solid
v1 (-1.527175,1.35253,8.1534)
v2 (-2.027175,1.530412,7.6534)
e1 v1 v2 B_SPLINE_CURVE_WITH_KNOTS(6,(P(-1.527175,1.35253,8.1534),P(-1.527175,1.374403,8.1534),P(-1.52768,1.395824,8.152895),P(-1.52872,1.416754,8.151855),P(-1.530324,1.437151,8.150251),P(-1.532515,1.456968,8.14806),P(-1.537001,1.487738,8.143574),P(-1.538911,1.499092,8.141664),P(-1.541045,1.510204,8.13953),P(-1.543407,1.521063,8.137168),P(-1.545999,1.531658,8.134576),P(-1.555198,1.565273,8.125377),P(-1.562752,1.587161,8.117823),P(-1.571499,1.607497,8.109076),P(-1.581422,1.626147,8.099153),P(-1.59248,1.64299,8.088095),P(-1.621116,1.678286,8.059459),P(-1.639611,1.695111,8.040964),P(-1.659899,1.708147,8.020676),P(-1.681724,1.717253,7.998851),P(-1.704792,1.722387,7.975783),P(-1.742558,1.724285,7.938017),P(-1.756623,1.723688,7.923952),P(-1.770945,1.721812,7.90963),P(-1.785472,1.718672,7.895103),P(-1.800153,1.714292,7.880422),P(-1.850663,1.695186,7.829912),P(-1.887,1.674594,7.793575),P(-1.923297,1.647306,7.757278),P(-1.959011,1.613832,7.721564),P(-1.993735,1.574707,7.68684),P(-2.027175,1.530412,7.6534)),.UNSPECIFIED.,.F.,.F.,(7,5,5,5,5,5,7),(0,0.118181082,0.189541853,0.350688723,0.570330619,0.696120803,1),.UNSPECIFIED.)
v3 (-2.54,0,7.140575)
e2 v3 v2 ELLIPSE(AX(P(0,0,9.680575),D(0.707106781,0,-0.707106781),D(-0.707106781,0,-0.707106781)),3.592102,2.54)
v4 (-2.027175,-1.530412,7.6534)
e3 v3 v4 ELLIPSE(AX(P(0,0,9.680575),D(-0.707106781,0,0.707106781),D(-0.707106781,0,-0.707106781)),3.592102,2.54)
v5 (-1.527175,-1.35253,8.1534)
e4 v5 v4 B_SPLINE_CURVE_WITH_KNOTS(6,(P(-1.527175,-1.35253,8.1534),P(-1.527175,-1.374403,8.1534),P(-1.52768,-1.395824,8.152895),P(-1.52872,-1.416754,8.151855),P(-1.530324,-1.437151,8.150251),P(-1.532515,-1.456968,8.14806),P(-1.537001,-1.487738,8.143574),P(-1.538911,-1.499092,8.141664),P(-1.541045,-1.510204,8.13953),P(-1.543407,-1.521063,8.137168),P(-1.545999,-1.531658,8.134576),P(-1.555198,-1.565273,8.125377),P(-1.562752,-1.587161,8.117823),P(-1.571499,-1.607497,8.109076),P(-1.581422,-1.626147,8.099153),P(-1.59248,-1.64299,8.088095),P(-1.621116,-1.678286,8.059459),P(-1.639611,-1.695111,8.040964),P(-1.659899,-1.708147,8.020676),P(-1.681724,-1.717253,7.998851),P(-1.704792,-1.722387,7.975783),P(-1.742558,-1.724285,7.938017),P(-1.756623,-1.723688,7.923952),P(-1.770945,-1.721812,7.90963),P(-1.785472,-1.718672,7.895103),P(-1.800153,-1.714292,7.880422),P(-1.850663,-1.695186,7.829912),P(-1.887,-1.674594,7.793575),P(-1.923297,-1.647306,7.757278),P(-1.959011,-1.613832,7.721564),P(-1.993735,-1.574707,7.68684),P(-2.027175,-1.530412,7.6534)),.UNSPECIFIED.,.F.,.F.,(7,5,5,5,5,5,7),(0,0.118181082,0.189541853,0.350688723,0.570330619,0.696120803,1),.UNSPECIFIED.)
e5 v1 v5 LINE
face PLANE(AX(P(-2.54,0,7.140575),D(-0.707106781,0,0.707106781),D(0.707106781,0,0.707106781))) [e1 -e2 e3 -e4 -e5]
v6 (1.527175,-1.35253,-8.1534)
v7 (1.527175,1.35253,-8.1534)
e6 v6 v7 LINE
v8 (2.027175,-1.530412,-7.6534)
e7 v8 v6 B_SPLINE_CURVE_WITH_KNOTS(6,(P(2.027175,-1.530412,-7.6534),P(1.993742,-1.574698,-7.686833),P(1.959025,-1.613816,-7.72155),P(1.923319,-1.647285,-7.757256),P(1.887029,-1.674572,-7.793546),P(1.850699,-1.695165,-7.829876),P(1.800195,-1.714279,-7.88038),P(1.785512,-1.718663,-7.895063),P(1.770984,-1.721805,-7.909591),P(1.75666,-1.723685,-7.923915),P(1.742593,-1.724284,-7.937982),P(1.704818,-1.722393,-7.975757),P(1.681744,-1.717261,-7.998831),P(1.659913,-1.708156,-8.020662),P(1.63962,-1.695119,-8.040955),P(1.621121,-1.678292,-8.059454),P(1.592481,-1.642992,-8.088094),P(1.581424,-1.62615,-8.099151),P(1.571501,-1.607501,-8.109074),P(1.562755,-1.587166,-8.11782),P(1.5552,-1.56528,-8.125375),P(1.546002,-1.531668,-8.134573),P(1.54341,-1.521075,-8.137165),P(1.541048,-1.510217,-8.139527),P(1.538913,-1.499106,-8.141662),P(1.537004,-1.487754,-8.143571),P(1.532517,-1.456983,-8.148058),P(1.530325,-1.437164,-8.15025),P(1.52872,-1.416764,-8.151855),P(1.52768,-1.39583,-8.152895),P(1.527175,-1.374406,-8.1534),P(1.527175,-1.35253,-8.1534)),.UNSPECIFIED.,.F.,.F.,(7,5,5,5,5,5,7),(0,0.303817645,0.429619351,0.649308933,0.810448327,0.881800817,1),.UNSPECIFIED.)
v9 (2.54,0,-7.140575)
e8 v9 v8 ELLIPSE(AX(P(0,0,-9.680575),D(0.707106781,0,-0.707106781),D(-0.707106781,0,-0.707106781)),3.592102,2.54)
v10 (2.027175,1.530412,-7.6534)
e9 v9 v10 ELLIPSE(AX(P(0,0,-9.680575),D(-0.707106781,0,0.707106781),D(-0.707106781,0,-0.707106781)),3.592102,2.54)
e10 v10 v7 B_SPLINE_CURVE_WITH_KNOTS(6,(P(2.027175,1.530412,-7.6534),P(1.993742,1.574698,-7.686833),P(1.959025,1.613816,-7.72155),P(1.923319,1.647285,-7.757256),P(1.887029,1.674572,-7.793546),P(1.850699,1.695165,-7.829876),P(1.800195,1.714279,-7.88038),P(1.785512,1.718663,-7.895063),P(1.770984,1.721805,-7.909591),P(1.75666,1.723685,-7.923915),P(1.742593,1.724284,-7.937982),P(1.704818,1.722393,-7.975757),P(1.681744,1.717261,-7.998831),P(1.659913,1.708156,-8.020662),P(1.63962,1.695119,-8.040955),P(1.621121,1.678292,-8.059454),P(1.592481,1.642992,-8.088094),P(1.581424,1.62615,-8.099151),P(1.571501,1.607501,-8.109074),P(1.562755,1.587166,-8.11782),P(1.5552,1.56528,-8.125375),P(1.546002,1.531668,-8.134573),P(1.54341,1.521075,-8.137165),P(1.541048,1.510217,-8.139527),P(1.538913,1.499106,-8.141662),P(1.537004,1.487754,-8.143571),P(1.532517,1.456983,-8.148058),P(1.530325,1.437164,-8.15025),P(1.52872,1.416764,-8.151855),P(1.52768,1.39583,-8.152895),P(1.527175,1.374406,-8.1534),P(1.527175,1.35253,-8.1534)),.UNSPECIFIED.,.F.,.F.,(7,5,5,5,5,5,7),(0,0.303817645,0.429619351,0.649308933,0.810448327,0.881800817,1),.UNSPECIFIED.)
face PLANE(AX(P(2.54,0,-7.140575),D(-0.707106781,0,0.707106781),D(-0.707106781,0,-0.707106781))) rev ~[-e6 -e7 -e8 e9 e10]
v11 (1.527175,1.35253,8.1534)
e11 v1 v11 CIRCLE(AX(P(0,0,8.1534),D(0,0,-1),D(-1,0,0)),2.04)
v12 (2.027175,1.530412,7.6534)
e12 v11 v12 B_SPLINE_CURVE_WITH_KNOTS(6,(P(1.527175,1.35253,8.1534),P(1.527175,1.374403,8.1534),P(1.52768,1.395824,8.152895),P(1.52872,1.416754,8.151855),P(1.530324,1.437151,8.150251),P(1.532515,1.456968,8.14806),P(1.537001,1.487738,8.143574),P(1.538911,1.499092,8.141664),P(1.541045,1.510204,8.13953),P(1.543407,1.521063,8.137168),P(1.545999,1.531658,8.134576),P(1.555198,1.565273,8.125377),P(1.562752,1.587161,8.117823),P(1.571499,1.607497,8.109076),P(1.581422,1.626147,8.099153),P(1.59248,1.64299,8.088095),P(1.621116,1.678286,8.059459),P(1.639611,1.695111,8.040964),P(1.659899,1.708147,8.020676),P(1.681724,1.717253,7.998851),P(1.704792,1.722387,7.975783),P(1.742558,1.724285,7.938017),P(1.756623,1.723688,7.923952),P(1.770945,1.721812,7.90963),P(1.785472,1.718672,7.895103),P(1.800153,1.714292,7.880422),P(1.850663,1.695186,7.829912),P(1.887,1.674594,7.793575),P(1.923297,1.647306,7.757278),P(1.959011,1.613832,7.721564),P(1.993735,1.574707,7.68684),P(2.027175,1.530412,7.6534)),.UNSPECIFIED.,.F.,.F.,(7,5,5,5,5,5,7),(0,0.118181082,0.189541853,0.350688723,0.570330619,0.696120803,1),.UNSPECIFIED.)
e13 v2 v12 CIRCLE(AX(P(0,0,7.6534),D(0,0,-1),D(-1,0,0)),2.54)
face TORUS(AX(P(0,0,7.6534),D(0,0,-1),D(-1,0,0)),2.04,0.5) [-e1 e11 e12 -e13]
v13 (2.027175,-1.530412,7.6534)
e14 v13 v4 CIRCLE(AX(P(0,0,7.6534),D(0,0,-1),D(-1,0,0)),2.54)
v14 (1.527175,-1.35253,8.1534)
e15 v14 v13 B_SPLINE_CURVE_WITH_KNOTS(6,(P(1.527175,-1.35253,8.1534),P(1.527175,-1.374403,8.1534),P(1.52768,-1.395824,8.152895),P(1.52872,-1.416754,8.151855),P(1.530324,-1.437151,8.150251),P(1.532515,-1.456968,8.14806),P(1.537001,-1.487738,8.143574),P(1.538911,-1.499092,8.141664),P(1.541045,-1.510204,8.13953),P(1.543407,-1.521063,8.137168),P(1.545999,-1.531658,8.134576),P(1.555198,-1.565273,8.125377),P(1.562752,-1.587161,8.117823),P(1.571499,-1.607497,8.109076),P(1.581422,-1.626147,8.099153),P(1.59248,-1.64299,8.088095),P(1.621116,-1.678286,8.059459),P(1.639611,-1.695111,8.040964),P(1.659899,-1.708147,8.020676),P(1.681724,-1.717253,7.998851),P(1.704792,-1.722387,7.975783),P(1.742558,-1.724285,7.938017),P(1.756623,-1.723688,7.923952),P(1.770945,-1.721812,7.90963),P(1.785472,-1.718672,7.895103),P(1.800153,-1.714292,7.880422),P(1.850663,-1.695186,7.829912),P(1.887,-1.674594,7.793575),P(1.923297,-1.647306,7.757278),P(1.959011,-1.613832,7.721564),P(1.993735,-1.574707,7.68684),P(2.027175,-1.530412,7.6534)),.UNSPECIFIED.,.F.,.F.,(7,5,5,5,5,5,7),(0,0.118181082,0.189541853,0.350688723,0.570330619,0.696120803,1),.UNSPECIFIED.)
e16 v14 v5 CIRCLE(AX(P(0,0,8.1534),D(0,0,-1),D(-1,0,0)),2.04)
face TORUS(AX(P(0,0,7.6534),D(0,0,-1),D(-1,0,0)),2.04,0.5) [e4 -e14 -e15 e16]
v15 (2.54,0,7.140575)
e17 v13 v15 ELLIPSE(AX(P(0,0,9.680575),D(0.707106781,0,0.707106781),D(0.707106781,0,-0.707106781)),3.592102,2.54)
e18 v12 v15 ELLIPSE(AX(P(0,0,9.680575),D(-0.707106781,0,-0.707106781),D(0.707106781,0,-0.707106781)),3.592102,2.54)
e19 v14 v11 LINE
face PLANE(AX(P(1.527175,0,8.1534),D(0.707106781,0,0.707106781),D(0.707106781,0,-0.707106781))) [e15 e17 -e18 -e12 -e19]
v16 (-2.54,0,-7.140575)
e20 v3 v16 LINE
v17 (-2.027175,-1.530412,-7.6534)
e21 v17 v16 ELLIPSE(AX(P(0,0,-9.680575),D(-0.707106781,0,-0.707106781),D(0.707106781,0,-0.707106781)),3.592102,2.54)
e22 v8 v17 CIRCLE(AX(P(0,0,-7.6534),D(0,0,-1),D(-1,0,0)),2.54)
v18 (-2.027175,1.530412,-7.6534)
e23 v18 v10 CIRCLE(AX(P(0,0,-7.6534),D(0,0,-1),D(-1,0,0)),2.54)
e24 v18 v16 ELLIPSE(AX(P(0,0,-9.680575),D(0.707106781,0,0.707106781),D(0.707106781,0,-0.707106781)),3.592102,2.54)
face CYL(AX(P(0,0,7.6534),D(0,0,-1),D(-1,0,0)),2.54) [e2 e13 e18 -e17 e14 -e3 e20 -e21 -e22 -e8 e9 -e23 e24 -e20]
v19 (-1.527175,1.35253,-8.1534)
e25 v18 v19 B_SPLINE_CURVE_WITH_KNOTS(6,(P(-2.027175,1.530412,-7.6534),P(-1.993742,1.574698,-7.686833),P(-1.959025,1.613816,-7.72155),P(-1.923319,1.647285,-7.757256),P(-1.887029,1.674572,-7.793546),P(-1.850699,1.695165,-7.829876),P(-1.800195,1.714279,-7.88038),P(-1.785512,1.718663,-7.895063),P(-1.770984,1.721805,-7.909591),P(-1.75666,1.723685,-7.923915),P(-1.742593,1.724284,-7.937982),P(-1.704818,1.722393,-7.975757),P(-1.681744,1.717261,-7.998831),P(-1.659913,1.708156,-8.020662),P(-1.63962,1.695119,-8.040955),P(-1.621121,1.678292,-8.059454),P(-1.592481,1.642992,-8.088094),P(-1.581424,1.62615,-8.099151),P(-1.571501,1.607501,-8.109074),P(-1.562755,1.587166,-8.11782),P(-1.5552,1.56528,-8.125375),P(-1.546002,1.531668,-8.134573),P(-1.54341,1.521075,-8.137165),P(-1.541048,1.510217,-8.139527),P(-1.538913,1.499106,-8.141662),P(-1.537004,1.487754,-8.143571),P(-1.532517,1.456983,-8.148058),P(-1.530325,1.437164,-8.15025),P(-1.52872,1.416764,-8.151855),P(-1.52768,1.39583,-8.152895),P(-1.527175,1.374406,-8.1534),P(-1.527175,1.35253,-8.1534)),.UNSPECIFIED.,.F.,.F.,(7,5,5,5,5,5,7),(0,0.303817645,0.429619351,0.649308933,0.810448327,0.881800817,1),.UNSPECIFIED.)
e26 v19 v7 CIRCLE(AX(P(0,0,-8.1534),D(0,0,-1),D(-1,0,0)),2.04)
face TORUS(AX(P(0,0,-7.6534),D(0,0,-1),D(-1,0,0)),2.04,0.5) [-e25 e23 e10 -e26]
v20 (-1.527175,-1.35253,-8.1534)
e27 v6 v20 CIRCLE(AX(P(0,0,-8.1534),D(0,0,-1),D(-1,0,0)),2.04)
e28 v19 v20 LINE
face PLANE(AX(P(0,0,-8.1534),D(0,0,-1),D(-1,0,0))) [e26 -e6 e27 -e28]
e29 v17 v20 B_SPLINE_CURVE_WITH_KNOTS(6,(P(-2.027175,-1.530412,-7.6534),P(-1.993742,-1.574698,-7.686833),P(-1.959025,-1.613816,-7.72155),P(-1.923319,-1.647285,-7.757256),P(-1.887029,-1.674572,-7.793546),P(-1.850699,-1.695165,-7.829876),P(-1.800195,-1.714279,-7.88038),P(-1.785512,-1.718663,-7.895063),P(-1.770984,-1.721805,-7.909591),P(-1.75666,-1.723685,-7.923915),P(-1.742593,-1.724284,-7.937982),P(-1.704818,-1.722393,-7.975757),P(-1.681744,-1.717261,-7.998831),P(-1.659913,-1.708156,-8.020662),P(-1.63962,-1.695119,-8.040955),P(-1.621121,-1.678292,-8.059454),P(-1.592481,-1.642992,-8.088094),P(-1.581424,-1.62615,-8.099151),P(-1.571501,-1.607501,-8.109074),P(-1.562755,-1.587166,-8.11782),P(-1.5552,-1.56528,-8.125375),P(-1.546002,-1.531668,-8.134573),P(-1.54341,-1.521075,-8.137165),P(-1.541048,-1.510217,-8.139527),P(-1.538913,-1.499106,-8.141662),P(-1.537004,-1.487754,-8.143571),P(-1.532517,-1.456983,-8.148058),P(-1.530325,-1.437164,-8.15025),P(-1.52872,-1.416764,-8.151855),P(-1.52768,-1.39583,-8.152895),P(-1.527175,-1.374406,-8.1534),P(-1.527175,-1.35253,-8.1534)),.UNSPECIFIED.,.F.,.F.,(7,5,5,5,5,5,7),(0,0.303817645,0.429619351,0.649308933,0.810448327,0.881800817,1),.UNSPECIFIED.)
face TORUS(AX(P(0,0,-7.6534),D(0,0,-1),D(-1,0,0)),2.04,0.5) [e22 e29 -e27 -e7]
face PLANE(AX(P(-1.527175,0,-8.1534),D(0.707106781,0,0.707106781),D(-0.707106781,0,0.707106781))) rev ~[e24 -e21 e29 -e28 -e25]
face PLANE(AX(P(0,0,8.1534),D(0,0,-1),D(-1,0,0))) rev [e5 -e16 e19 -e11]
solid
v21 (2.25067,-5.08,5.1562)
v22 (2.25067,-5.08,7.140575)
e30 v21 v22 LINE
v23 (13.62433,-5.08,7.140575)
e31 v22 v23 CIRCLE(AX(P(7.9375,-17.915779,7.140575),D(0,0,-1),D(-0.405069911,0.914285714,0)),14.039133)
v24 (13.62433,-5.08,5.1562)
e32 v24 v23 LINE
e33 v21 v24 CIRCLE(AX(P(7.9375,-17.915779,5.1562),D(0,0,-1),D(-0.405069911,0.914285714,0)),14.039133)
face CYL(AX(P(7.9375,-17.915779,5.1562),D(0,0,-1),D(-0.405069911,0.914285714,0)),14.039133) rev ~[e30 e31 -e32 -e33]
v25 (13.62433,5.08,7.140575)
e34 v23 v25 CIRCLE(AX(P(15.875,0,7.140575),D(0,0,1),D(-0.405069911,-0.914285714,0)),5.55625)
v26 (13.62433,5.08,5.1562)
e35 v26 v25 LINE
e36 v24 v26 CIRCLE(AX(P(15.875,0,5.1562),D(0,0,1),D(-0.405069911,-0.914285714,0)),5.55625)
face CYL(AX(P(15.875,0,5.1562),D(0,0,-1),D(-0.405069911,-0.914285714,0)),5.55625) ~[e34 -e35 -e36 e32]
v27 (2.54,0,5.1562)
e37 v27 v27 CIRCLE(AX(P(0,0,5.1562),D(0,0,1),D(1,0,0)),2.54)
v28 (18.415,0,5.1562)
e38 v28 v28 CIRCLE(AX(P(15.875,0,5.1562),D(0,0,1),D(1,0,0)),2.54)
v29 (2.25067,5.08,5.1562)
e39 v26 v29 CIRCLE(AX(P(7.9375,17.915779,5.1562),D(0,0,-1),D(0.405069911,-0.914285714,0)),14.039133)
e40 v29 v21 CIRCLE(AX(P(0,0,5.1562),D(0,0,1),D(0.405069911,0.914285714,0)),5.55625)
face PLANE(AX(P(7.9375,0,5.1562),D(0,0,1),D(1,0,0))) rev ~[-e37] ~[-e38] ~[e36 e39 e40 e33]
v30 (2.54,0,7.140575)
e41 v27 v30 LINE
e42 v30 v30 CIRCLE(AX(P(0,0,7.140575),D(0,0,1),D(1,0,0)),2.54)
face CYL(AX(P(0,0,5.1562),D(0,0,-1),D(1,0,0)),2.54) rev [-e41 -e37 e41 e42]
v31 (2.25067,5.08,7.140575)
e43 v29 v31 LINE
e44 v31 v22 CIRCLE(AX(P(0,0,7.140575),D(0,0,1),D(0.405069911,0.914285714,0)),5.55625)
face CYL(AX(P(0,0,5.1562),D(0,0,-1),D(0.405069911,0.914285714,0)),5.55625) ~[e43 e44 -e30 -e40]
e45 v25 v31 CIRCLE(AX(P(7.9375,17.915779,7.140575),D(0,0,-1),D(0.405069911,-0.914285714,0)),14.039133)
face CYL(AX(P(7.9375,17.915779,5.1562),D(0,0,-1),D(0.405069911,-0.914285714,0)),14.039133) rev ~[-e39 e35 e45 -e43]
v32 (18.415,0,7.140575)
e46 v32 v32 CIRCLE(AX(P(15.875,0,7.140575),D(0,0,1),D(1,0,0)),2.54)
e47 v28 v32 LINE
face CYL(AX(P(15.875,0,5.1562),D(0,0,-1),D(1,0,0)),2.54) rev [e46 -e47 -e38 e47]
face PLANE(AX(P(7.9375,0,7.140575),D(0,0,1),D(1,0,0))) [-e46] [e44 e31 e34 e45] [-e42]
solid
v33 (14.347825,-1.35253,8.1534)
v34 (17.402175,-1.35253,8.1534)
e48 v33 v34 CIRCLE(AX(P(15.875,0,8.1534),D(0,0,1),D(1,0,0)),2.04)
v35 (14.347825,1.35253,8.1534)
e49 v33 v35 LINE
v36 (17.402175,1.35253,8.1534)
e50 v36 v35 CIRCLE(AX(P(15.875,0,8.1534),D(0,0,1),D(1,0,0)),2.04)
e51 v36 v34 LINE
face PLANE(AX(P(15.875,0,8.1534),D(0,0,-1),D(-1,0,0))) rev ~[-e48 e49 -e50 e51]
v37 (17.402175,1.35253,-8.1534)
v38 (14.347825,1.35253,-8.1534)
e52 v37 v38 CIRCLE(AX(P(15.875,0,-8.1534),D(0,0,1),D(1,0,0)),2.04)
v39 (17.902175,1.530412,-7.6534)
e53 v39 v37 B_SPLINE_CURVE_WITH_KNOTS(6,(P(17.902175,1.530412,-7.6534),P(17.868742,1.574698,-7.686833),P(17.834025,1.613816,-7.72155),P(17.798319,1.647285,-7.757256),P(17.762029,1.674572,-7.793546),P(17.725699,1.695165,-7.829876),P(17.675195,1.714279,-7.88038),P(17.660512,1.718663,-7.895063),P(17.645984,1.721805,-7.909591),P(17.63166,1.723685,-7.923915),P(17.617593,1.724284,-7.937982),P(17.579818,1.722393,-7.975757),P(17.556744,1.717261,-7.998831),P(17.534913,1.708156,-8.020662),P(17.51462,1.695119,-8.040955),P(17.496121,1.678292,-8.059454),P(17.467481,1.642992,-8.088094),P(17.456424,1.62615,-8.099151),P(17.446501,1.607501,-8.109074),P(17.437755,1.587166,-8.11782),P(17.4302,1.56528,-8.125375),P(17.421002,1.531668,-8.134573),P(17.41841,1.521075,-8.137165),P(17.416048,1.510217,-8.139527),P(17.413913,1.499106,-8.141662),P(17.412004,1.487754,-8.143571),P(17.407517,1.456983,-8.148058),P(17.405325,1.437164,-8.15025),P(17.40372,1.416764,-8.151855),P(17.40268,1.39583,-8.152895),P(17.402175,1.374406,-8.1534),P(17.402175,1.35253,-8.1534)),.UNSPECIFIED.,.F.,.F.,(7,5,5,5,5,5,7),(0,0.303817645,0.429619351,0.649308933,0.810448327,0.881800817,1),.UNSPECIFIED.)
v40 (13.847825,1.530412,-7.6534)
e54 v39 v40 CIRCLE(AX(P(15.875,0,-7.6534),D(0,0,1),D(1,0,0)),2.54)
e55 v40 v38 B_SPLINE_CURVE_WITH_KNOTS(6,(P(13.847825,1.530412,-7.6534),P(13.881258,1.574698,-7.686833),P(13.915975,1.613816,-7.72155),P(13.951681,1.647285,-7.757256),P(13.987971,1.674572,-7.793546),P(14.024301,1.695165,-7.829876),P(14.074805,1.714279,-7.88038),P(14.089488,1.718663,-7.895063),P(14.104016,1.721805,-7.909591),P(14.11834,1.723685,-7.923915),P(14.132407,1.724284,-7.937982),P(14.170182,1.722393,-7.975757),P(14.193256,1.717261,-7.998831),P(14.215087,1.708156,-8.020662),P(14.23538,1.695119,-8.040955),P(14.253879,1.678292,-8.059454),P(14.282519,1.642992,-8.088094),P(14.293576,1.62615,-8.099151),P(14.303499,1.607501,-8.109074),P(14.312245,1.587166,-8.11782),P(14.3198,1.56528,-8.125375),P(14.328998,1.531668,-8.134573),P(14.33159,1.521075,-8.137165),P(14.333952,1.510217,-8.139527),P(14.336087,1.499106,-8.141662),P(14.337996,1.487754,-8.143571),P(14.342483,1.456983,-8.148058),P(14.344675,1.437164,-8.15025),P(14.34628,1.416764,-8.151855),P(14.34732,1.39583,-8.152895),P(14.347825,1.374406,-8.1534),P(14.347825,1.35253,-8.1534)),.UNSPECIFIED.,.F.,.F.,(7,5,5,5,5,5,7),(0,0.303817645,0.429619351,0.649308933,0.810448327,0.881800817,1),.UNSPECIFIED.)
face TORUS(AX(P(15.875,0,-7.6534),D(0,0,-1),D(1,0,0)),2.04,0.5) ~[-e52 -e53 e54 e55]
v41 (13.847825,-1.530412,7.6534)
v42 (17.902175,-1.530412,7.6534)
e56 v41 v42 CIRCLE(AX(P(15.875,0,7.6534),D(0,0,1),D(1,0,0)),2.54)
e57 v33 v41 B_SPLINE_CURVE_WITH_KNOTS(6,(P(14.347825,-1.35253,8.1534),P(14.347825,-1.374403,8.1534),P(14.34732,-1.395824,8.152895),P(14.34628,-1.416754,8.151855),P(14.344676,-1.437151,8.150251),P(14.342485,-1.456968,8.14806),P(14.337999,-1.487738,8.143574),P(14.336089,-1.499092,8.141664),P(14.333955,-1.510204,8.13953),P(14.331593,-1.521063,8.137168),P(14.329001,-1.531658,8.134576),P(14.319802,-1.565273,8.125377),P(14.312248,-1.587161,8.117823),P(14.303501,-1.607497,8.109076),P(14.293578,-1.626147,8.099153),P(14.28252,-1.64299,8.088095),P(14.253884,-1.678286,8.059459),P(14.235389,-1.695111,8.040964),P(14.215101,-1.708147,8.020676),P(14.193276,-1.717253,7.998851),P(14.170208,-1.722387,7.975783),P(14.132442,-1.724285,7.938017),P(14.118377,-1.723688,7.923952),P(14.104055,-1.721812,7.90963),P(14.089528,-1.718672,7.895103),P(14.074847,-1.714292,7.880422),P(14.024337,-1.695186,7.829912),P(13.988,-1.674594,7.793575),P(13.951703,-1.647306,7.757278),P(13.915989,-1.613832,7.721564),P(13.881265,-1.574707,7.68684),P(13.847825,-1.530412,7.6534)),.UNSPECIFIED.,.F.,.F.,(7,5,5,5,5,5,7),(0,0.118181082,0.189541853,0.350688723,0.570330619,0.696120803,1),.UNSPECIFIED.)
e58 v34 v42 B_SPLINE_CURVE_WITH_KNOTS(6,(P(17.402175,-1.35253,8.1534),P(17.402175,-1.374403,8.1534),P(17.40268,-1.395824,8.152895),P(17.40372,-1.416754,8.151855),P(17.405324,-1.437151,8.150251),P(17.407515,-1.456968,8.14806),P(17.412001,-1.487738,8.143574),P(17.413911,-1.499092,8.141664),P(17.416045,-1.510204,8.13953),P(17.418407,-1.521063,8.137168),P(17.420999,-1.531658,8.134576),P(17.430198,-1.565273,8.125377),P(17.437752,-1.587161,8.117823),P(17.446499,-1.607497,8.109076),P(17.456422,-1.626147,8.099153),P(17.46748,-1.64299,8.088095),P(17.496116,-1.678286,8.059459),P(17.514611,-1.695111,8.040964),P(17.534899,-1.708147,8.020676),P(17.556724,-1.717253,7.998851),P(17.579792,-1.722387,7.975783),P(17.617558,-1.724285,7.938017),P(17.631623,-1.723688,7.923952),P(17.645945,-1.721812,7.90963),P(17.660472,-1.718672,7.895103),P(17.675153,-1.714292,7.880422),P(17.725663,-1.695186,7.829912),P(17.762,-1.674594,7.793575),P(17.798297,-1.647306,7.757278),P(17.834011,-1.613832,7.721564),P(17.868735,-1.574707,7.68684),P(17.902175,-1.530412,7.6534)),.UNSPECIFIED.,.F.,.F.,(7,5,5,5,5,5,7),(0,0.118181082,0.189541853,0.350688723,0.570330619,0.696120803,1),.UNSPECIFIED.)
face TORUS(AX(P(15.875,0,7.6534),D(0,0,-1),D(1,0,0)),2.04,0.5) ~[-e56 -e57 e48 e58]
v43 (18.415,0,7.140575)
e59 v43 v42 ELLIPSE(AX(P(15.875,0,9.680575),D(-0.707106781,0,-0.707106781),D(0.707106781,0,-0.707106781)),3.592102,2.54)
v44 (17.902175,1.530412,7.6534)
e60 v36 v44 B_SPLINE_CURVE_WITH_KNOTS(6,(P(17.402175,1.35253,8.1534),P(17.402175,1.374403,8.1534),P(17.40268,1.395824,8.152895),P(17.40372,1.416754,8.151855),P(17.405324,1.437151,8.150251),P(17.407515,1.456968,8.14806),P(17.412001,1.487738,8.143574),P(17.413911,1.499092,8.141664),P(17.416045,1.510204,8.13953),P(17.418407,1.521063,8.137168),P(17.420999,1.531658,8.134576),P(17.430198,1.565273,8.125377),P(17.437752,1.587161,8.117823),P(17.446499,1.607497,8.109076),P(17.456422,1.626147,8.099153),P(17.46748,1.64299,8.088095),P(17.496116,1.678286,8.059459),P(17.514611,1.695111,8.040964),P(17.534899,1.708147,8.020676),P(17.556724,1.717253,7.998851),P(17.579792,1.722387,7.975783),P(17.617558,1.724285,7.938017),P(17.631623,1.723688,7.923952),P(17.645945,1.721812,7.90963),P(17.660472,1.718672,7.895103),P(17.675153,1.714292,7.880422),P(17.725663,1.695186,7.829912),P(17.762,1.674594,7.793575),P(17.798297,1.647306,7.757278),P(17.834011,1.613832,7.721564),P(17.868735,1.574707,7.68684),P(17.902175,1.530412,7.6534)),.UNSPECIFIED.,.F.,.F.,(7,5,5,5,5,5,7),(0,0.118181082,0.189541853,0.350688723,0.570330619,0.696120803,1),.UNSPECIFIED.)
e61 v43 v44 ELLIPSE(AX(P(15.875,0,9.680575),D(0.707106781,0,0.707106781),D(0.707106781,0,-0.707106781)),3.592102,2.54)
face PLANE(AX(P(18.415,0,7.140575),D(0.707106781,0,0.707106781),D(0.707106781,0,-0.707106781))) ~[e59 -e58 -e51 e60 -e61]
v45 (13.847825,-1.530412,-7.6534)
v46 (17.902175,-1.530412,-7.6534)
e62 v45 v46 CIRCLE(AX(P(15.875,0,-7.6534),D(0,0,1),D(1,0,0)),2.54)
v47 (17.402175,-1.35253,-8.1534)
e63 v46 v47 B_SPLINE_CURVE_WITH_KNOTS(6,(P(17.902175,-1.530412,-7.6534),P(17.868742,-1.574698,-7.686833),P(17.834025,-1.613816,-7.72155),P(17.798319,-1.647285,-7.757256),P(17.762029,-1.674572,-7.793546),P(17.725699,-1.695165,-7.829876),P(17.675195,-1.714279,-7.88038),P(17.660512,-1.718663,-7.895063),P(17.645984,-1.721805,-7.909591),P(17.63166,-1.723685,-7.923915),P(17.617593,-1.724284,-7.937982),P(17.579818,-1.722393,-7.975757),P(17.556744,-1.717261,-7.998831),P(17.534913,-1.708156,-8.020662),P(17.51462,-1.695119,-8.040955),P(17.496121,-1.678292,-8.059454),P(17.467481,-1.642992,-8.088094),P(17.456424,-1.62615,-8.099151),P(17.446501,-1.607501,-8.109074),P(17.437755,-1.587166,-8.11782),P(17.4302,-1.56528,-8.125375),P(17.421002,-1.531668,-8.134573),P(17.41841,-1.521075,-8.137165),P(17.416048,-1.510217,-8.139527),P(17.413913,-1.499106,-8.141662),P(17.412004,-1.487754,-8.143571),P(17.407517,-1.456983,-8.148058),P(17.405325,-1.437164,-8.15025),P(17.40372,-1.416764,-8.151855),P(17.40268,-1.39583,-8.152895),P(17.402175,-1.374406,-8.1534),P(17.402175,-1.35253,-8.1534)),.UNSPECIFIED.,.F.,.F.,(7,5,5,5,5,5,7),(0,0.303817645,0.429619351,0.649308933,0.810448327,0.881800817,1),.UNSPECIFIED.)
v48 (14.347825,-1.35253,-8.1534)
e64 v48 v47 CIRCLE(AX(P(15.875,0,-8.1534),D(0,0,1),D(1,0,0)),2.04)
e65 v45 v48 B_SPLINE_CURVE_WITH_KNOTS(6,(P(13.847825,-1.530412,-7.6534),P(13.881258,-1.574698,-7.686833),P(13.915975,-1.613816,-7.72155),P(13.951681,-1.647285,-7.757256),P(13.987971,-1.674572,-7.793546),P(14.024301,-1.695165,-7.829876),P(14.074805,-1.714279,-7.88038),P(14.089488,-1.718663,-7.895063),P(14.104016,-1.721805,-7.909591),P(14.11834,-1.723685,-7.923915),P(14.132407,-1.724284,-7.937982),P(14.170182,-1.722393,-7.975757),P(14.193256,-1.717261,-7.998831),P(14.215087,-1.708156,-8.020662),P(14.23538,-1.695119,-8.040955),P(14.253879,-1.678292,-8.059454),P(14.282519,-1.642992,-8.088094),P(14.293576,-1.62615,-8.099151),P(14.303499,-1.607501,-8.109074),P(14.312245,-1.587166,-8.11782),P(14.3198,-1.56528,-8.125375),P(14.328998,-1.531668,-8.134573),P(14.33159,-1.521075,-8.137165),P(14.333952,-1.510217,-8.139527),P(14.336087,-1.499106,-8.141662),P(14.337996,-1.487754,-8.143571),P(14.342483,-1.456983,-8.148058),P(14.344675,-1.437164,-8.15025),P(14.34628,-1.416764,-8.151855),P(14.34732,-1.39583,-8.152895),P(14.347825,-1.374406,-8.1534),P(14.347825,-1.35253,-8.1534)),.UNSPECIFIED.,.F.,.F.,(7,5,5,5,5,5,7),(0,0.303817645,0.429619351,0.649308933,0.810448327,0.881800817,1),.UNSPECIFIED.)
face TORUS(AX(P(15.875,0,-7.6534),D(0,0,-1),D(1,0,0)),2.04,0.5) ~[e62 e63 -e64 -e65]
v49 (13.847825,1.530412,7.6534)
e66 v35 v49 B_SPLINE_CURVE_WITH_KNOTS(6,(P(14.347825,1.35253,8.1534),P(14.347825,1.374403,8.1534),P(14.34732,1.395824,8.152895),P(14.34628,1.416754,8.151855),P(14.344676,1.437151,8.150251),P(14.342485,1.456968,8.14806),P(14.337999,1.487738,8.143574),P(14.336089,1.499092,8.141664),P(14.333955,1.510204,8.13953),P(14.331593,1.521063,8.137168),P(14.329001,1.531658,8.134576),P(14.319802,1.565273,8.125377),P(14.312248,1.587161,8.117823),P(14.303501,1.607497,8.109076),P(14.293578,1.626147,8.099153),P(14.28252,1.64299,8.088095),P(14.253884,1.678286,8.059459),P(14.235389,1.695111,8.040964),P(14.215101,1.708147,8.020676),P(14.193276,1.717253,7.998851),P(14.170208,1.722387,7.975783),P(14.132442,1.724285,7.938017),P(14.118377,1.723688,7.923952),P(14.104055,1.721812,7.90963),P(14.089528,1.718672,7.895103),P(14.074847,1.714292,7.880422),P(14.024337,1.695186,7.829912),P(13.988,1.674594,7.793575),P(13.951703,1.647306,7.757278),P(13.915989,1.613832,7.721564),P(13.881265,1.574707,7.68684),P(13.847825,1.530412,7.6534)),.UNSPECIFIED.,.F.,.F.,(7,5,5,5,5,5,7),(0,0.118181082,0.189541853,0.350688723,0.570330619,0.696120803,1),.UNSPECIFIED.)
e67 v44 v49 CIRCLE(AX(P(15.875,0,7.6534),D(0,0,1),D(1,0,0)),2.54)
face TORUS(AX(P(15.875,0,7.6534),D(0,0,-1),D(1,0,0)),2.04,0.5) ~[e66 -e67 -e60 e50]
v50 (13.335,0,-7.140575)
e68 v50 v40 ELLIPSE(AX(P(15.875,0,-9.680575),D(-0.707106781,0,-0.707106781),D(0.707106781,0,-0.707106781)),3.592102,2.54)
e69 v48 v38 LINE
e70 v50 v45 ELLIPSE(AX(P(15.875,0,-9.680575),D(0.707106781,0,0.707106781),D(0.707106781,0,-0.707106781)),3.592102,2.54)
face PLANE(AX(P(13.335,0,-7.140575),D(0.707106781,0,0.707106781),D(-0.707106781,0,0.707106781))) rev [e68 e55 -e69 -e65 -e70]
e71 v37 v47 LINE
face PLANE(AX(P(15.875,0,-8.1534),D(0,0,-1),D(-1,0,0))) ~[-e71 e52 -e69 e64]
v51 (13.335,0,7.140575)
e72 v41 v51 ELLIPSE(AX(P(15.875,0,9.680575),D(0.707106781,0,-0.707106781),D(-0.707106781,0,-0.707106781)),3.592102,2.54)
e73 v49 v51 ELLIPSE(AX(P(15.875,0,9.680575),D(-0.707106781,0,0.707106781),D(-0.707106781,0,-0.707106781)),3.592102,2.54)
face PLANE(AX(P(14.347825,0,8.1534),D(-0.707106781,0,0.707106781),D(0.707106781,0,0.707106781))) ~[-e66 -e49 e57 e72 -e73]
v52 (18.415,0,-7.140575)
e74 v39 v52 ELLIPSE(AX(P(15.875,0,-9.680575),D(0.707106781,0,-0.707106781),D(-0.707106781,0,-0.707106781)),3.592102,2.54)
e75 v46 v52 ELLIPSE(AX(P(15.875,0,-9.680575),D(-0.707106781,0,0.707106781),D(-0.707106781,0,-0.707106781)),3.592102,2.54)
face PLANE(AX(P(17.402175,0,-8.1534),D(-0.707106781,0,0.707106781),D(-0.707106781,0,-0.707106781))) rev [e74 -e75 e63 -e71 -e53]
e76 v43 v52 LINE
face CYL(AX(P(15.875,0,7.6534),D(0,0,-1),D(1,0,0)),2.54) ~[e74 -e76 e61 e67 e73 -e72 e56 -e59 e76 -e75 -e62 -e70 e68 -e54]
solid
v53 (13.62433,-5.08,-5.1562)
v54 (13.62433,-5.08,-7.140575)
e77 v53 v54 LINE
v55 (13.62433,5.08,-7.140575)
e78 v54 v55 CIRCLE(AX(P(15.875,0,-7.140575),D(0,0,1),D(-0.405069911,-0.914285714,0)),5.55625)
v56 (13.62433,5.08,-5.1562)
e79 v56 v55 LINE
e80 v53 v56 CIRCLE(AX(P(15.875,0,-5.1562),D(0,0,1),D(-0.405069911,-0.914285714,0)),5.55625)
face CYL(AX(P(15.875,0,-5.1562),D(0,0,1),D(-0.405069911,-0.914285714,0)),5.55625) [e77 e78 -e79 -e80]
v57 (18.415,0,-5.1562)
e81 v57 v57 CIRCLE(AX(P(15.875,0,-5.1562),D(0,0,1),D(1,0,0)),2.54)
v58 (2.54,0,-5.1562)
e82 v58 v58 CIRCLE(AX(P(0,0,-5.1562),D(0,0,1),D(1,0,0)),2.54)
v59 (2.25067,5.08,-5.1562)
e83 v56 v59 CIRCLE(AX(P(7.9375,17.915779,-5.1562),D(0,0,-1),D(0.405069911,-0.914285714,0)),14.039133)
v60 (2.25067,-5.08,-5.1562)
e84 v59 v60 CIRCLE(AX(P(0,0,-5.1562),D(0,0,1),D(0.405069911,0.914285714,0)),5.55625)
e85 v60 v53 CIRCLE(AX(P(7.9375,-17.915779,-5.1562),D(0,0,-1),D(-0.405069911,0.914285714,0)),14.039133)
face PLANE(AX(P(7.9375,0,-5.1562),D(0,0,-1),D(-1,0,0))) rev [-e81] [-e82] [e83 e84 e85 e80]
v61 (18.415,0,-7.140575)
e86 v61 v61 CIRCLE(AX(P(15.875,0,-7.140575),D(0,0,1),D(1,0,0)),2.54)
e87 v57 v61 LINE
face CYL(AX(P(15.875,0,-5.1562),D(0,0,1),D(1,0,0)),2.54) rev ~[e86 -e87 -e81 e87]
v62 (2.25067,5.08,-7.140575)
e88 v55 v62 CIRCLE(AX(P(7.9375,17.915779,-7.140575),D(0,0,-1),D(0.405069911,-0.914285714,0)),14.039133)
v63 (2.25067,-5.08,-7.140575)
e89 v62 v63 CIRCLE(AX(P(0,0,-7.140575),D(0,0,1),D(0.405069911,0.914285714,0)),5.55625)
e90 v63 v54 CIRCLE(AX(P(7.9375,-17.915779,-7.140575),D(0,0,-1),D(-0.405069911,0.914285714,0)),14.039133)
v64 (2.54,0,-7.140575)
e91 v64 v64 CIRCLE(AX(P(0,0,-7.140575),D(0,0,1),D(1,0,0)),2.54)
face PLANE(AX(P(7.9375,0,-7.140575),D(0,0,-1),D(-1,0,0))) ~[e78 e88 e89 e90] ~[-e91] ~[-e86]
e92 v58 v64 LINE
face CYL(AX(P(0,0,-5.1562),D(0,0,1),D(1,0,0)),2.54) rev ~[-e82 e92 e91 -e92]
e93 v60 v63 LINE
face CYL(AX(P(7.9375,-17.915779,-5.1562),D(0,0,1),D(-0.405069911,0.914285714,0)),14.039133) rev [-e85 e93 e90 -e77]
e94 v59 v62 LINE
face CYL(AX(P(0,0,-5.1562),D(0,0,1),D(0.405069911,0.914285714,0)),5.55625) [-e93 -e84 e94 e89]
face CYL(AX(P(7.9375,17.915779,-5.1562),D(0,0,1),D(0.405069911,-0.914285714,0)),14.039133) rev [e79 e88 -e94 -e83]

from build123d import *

# Parameters (mm, degrees)
BOSS_EXTRUDE2_START     = 5.1562
SKETCH2_R               = 2.54
BOSS_EXTRUDE2_DEPTH     = 1.984375
CUT_EXTRUDE1_DEPTH      = 6.55625
CUT_EXTRUDE1_DEPTH_BACK = 6.55625


with BuildPart() as part:
    # Sketch1 → Revolve1 (revolve)
    with BuildSketch(Plane(origin=(0, 0, 0), x_dir=(1, 0, 0), z_dir=(0, 1, 0))):
        with BuildLine():
            Line((0, -8.1534), (-2.04, -8.1534))
            ThreePointArc((-2.04, -8.1534), (-2.393553391, -8.006953391), (-2.54, -7.6534))
            Line((-2.54, -7.6534), (-2.54, 7.6534))
            ThreePointArc((-2.54, 7.6534), (-2.393553391, 8.006953391), (-2.04, 8.1534))
            Line((-2.04, 8.1534), (0, 8.1534))
            Line((0, 8.1534), (0, -8.1534))
        make_face()
    revolve(axis=Axis((0, 0, 8.1534), (0, 0, -1)))

    # Sketch6 → Cut-Extrude1 (cut, two sides)
    with BuildSketch(Plane(origin=(0, 0, 0), x_dir=(1, 0, 0), z_dir=(0, 1, 0))) as cut_extrude1_sk:
        Polygon((1.527175, -8.1534), (2.54, -7.140575), (2.54, -9.1534), (-2.54, -9.1534), (-2.54, -7.140575), (-1.527175, -8.1534), align=None)
        Polygon((-2.54, 9.1534), (2.54, 9.1534), (2.54, 7.140575), (1.527175, 8.1534), (-1.527175, 8.1534), (-2.54, 7.140575), align=None)
    extrude(amount=CUT_EXTRUDE1_DEPTH, mode=Mode.SUBTRACT)
    extrude(cut_extrude1_sk.sketch, amount=-CUT_EXTRUDE1_DEPTH_BACK, mode=Mode.SUBTRACT)


with BuildPart() as body_2:
    # Sketch2 → Boss-Extrude2 (new body)
    with BuildSketch(Plane.XY.offset(BOSS_EXTRUDE2_START)):
        with BuildLine():
            ThreePointArc((2.250669692, 5.08), (-5.55625, 0), (2.250669692, -5.08))
            ThreePointArc((2.250669692, -5.08), (7.9375, -3.876645752), (13.624330308, -5.08))
            ThreePointArc((13.624330308, -5.08), (21.43125, 0), (13.624330308, 5.08))
            ThreePointArc((13.624330308, 5.08), (7.9375, 3.876645752), (2.250669692, 5.08))
        make_face()
        Circle(SKETCH2_R, mode=Mode.SUBTRACT)
        with Locations((15.875, 0)):
            Circle(SKETCH2_R, mode=Mode.SUBTRACT)
    extrude(amount=BOSS_EXTRUDE2_DEPTH)


with BuildPart() as body_3:
    # Mirror5: mirrored copy
    add(part.part.mirror(Plane(origin=(7.9375, 0, 0), x_dir=(0, 0, 1), z_dir=(1, 0, 0))))


with BuildPart() as body_4:
    # Mirror6: mirrored copy
    add(body_2.part.mirror(Plane.XY))


solid = Compound([part.part, body_2.part, body_3.part, body_4.part])
